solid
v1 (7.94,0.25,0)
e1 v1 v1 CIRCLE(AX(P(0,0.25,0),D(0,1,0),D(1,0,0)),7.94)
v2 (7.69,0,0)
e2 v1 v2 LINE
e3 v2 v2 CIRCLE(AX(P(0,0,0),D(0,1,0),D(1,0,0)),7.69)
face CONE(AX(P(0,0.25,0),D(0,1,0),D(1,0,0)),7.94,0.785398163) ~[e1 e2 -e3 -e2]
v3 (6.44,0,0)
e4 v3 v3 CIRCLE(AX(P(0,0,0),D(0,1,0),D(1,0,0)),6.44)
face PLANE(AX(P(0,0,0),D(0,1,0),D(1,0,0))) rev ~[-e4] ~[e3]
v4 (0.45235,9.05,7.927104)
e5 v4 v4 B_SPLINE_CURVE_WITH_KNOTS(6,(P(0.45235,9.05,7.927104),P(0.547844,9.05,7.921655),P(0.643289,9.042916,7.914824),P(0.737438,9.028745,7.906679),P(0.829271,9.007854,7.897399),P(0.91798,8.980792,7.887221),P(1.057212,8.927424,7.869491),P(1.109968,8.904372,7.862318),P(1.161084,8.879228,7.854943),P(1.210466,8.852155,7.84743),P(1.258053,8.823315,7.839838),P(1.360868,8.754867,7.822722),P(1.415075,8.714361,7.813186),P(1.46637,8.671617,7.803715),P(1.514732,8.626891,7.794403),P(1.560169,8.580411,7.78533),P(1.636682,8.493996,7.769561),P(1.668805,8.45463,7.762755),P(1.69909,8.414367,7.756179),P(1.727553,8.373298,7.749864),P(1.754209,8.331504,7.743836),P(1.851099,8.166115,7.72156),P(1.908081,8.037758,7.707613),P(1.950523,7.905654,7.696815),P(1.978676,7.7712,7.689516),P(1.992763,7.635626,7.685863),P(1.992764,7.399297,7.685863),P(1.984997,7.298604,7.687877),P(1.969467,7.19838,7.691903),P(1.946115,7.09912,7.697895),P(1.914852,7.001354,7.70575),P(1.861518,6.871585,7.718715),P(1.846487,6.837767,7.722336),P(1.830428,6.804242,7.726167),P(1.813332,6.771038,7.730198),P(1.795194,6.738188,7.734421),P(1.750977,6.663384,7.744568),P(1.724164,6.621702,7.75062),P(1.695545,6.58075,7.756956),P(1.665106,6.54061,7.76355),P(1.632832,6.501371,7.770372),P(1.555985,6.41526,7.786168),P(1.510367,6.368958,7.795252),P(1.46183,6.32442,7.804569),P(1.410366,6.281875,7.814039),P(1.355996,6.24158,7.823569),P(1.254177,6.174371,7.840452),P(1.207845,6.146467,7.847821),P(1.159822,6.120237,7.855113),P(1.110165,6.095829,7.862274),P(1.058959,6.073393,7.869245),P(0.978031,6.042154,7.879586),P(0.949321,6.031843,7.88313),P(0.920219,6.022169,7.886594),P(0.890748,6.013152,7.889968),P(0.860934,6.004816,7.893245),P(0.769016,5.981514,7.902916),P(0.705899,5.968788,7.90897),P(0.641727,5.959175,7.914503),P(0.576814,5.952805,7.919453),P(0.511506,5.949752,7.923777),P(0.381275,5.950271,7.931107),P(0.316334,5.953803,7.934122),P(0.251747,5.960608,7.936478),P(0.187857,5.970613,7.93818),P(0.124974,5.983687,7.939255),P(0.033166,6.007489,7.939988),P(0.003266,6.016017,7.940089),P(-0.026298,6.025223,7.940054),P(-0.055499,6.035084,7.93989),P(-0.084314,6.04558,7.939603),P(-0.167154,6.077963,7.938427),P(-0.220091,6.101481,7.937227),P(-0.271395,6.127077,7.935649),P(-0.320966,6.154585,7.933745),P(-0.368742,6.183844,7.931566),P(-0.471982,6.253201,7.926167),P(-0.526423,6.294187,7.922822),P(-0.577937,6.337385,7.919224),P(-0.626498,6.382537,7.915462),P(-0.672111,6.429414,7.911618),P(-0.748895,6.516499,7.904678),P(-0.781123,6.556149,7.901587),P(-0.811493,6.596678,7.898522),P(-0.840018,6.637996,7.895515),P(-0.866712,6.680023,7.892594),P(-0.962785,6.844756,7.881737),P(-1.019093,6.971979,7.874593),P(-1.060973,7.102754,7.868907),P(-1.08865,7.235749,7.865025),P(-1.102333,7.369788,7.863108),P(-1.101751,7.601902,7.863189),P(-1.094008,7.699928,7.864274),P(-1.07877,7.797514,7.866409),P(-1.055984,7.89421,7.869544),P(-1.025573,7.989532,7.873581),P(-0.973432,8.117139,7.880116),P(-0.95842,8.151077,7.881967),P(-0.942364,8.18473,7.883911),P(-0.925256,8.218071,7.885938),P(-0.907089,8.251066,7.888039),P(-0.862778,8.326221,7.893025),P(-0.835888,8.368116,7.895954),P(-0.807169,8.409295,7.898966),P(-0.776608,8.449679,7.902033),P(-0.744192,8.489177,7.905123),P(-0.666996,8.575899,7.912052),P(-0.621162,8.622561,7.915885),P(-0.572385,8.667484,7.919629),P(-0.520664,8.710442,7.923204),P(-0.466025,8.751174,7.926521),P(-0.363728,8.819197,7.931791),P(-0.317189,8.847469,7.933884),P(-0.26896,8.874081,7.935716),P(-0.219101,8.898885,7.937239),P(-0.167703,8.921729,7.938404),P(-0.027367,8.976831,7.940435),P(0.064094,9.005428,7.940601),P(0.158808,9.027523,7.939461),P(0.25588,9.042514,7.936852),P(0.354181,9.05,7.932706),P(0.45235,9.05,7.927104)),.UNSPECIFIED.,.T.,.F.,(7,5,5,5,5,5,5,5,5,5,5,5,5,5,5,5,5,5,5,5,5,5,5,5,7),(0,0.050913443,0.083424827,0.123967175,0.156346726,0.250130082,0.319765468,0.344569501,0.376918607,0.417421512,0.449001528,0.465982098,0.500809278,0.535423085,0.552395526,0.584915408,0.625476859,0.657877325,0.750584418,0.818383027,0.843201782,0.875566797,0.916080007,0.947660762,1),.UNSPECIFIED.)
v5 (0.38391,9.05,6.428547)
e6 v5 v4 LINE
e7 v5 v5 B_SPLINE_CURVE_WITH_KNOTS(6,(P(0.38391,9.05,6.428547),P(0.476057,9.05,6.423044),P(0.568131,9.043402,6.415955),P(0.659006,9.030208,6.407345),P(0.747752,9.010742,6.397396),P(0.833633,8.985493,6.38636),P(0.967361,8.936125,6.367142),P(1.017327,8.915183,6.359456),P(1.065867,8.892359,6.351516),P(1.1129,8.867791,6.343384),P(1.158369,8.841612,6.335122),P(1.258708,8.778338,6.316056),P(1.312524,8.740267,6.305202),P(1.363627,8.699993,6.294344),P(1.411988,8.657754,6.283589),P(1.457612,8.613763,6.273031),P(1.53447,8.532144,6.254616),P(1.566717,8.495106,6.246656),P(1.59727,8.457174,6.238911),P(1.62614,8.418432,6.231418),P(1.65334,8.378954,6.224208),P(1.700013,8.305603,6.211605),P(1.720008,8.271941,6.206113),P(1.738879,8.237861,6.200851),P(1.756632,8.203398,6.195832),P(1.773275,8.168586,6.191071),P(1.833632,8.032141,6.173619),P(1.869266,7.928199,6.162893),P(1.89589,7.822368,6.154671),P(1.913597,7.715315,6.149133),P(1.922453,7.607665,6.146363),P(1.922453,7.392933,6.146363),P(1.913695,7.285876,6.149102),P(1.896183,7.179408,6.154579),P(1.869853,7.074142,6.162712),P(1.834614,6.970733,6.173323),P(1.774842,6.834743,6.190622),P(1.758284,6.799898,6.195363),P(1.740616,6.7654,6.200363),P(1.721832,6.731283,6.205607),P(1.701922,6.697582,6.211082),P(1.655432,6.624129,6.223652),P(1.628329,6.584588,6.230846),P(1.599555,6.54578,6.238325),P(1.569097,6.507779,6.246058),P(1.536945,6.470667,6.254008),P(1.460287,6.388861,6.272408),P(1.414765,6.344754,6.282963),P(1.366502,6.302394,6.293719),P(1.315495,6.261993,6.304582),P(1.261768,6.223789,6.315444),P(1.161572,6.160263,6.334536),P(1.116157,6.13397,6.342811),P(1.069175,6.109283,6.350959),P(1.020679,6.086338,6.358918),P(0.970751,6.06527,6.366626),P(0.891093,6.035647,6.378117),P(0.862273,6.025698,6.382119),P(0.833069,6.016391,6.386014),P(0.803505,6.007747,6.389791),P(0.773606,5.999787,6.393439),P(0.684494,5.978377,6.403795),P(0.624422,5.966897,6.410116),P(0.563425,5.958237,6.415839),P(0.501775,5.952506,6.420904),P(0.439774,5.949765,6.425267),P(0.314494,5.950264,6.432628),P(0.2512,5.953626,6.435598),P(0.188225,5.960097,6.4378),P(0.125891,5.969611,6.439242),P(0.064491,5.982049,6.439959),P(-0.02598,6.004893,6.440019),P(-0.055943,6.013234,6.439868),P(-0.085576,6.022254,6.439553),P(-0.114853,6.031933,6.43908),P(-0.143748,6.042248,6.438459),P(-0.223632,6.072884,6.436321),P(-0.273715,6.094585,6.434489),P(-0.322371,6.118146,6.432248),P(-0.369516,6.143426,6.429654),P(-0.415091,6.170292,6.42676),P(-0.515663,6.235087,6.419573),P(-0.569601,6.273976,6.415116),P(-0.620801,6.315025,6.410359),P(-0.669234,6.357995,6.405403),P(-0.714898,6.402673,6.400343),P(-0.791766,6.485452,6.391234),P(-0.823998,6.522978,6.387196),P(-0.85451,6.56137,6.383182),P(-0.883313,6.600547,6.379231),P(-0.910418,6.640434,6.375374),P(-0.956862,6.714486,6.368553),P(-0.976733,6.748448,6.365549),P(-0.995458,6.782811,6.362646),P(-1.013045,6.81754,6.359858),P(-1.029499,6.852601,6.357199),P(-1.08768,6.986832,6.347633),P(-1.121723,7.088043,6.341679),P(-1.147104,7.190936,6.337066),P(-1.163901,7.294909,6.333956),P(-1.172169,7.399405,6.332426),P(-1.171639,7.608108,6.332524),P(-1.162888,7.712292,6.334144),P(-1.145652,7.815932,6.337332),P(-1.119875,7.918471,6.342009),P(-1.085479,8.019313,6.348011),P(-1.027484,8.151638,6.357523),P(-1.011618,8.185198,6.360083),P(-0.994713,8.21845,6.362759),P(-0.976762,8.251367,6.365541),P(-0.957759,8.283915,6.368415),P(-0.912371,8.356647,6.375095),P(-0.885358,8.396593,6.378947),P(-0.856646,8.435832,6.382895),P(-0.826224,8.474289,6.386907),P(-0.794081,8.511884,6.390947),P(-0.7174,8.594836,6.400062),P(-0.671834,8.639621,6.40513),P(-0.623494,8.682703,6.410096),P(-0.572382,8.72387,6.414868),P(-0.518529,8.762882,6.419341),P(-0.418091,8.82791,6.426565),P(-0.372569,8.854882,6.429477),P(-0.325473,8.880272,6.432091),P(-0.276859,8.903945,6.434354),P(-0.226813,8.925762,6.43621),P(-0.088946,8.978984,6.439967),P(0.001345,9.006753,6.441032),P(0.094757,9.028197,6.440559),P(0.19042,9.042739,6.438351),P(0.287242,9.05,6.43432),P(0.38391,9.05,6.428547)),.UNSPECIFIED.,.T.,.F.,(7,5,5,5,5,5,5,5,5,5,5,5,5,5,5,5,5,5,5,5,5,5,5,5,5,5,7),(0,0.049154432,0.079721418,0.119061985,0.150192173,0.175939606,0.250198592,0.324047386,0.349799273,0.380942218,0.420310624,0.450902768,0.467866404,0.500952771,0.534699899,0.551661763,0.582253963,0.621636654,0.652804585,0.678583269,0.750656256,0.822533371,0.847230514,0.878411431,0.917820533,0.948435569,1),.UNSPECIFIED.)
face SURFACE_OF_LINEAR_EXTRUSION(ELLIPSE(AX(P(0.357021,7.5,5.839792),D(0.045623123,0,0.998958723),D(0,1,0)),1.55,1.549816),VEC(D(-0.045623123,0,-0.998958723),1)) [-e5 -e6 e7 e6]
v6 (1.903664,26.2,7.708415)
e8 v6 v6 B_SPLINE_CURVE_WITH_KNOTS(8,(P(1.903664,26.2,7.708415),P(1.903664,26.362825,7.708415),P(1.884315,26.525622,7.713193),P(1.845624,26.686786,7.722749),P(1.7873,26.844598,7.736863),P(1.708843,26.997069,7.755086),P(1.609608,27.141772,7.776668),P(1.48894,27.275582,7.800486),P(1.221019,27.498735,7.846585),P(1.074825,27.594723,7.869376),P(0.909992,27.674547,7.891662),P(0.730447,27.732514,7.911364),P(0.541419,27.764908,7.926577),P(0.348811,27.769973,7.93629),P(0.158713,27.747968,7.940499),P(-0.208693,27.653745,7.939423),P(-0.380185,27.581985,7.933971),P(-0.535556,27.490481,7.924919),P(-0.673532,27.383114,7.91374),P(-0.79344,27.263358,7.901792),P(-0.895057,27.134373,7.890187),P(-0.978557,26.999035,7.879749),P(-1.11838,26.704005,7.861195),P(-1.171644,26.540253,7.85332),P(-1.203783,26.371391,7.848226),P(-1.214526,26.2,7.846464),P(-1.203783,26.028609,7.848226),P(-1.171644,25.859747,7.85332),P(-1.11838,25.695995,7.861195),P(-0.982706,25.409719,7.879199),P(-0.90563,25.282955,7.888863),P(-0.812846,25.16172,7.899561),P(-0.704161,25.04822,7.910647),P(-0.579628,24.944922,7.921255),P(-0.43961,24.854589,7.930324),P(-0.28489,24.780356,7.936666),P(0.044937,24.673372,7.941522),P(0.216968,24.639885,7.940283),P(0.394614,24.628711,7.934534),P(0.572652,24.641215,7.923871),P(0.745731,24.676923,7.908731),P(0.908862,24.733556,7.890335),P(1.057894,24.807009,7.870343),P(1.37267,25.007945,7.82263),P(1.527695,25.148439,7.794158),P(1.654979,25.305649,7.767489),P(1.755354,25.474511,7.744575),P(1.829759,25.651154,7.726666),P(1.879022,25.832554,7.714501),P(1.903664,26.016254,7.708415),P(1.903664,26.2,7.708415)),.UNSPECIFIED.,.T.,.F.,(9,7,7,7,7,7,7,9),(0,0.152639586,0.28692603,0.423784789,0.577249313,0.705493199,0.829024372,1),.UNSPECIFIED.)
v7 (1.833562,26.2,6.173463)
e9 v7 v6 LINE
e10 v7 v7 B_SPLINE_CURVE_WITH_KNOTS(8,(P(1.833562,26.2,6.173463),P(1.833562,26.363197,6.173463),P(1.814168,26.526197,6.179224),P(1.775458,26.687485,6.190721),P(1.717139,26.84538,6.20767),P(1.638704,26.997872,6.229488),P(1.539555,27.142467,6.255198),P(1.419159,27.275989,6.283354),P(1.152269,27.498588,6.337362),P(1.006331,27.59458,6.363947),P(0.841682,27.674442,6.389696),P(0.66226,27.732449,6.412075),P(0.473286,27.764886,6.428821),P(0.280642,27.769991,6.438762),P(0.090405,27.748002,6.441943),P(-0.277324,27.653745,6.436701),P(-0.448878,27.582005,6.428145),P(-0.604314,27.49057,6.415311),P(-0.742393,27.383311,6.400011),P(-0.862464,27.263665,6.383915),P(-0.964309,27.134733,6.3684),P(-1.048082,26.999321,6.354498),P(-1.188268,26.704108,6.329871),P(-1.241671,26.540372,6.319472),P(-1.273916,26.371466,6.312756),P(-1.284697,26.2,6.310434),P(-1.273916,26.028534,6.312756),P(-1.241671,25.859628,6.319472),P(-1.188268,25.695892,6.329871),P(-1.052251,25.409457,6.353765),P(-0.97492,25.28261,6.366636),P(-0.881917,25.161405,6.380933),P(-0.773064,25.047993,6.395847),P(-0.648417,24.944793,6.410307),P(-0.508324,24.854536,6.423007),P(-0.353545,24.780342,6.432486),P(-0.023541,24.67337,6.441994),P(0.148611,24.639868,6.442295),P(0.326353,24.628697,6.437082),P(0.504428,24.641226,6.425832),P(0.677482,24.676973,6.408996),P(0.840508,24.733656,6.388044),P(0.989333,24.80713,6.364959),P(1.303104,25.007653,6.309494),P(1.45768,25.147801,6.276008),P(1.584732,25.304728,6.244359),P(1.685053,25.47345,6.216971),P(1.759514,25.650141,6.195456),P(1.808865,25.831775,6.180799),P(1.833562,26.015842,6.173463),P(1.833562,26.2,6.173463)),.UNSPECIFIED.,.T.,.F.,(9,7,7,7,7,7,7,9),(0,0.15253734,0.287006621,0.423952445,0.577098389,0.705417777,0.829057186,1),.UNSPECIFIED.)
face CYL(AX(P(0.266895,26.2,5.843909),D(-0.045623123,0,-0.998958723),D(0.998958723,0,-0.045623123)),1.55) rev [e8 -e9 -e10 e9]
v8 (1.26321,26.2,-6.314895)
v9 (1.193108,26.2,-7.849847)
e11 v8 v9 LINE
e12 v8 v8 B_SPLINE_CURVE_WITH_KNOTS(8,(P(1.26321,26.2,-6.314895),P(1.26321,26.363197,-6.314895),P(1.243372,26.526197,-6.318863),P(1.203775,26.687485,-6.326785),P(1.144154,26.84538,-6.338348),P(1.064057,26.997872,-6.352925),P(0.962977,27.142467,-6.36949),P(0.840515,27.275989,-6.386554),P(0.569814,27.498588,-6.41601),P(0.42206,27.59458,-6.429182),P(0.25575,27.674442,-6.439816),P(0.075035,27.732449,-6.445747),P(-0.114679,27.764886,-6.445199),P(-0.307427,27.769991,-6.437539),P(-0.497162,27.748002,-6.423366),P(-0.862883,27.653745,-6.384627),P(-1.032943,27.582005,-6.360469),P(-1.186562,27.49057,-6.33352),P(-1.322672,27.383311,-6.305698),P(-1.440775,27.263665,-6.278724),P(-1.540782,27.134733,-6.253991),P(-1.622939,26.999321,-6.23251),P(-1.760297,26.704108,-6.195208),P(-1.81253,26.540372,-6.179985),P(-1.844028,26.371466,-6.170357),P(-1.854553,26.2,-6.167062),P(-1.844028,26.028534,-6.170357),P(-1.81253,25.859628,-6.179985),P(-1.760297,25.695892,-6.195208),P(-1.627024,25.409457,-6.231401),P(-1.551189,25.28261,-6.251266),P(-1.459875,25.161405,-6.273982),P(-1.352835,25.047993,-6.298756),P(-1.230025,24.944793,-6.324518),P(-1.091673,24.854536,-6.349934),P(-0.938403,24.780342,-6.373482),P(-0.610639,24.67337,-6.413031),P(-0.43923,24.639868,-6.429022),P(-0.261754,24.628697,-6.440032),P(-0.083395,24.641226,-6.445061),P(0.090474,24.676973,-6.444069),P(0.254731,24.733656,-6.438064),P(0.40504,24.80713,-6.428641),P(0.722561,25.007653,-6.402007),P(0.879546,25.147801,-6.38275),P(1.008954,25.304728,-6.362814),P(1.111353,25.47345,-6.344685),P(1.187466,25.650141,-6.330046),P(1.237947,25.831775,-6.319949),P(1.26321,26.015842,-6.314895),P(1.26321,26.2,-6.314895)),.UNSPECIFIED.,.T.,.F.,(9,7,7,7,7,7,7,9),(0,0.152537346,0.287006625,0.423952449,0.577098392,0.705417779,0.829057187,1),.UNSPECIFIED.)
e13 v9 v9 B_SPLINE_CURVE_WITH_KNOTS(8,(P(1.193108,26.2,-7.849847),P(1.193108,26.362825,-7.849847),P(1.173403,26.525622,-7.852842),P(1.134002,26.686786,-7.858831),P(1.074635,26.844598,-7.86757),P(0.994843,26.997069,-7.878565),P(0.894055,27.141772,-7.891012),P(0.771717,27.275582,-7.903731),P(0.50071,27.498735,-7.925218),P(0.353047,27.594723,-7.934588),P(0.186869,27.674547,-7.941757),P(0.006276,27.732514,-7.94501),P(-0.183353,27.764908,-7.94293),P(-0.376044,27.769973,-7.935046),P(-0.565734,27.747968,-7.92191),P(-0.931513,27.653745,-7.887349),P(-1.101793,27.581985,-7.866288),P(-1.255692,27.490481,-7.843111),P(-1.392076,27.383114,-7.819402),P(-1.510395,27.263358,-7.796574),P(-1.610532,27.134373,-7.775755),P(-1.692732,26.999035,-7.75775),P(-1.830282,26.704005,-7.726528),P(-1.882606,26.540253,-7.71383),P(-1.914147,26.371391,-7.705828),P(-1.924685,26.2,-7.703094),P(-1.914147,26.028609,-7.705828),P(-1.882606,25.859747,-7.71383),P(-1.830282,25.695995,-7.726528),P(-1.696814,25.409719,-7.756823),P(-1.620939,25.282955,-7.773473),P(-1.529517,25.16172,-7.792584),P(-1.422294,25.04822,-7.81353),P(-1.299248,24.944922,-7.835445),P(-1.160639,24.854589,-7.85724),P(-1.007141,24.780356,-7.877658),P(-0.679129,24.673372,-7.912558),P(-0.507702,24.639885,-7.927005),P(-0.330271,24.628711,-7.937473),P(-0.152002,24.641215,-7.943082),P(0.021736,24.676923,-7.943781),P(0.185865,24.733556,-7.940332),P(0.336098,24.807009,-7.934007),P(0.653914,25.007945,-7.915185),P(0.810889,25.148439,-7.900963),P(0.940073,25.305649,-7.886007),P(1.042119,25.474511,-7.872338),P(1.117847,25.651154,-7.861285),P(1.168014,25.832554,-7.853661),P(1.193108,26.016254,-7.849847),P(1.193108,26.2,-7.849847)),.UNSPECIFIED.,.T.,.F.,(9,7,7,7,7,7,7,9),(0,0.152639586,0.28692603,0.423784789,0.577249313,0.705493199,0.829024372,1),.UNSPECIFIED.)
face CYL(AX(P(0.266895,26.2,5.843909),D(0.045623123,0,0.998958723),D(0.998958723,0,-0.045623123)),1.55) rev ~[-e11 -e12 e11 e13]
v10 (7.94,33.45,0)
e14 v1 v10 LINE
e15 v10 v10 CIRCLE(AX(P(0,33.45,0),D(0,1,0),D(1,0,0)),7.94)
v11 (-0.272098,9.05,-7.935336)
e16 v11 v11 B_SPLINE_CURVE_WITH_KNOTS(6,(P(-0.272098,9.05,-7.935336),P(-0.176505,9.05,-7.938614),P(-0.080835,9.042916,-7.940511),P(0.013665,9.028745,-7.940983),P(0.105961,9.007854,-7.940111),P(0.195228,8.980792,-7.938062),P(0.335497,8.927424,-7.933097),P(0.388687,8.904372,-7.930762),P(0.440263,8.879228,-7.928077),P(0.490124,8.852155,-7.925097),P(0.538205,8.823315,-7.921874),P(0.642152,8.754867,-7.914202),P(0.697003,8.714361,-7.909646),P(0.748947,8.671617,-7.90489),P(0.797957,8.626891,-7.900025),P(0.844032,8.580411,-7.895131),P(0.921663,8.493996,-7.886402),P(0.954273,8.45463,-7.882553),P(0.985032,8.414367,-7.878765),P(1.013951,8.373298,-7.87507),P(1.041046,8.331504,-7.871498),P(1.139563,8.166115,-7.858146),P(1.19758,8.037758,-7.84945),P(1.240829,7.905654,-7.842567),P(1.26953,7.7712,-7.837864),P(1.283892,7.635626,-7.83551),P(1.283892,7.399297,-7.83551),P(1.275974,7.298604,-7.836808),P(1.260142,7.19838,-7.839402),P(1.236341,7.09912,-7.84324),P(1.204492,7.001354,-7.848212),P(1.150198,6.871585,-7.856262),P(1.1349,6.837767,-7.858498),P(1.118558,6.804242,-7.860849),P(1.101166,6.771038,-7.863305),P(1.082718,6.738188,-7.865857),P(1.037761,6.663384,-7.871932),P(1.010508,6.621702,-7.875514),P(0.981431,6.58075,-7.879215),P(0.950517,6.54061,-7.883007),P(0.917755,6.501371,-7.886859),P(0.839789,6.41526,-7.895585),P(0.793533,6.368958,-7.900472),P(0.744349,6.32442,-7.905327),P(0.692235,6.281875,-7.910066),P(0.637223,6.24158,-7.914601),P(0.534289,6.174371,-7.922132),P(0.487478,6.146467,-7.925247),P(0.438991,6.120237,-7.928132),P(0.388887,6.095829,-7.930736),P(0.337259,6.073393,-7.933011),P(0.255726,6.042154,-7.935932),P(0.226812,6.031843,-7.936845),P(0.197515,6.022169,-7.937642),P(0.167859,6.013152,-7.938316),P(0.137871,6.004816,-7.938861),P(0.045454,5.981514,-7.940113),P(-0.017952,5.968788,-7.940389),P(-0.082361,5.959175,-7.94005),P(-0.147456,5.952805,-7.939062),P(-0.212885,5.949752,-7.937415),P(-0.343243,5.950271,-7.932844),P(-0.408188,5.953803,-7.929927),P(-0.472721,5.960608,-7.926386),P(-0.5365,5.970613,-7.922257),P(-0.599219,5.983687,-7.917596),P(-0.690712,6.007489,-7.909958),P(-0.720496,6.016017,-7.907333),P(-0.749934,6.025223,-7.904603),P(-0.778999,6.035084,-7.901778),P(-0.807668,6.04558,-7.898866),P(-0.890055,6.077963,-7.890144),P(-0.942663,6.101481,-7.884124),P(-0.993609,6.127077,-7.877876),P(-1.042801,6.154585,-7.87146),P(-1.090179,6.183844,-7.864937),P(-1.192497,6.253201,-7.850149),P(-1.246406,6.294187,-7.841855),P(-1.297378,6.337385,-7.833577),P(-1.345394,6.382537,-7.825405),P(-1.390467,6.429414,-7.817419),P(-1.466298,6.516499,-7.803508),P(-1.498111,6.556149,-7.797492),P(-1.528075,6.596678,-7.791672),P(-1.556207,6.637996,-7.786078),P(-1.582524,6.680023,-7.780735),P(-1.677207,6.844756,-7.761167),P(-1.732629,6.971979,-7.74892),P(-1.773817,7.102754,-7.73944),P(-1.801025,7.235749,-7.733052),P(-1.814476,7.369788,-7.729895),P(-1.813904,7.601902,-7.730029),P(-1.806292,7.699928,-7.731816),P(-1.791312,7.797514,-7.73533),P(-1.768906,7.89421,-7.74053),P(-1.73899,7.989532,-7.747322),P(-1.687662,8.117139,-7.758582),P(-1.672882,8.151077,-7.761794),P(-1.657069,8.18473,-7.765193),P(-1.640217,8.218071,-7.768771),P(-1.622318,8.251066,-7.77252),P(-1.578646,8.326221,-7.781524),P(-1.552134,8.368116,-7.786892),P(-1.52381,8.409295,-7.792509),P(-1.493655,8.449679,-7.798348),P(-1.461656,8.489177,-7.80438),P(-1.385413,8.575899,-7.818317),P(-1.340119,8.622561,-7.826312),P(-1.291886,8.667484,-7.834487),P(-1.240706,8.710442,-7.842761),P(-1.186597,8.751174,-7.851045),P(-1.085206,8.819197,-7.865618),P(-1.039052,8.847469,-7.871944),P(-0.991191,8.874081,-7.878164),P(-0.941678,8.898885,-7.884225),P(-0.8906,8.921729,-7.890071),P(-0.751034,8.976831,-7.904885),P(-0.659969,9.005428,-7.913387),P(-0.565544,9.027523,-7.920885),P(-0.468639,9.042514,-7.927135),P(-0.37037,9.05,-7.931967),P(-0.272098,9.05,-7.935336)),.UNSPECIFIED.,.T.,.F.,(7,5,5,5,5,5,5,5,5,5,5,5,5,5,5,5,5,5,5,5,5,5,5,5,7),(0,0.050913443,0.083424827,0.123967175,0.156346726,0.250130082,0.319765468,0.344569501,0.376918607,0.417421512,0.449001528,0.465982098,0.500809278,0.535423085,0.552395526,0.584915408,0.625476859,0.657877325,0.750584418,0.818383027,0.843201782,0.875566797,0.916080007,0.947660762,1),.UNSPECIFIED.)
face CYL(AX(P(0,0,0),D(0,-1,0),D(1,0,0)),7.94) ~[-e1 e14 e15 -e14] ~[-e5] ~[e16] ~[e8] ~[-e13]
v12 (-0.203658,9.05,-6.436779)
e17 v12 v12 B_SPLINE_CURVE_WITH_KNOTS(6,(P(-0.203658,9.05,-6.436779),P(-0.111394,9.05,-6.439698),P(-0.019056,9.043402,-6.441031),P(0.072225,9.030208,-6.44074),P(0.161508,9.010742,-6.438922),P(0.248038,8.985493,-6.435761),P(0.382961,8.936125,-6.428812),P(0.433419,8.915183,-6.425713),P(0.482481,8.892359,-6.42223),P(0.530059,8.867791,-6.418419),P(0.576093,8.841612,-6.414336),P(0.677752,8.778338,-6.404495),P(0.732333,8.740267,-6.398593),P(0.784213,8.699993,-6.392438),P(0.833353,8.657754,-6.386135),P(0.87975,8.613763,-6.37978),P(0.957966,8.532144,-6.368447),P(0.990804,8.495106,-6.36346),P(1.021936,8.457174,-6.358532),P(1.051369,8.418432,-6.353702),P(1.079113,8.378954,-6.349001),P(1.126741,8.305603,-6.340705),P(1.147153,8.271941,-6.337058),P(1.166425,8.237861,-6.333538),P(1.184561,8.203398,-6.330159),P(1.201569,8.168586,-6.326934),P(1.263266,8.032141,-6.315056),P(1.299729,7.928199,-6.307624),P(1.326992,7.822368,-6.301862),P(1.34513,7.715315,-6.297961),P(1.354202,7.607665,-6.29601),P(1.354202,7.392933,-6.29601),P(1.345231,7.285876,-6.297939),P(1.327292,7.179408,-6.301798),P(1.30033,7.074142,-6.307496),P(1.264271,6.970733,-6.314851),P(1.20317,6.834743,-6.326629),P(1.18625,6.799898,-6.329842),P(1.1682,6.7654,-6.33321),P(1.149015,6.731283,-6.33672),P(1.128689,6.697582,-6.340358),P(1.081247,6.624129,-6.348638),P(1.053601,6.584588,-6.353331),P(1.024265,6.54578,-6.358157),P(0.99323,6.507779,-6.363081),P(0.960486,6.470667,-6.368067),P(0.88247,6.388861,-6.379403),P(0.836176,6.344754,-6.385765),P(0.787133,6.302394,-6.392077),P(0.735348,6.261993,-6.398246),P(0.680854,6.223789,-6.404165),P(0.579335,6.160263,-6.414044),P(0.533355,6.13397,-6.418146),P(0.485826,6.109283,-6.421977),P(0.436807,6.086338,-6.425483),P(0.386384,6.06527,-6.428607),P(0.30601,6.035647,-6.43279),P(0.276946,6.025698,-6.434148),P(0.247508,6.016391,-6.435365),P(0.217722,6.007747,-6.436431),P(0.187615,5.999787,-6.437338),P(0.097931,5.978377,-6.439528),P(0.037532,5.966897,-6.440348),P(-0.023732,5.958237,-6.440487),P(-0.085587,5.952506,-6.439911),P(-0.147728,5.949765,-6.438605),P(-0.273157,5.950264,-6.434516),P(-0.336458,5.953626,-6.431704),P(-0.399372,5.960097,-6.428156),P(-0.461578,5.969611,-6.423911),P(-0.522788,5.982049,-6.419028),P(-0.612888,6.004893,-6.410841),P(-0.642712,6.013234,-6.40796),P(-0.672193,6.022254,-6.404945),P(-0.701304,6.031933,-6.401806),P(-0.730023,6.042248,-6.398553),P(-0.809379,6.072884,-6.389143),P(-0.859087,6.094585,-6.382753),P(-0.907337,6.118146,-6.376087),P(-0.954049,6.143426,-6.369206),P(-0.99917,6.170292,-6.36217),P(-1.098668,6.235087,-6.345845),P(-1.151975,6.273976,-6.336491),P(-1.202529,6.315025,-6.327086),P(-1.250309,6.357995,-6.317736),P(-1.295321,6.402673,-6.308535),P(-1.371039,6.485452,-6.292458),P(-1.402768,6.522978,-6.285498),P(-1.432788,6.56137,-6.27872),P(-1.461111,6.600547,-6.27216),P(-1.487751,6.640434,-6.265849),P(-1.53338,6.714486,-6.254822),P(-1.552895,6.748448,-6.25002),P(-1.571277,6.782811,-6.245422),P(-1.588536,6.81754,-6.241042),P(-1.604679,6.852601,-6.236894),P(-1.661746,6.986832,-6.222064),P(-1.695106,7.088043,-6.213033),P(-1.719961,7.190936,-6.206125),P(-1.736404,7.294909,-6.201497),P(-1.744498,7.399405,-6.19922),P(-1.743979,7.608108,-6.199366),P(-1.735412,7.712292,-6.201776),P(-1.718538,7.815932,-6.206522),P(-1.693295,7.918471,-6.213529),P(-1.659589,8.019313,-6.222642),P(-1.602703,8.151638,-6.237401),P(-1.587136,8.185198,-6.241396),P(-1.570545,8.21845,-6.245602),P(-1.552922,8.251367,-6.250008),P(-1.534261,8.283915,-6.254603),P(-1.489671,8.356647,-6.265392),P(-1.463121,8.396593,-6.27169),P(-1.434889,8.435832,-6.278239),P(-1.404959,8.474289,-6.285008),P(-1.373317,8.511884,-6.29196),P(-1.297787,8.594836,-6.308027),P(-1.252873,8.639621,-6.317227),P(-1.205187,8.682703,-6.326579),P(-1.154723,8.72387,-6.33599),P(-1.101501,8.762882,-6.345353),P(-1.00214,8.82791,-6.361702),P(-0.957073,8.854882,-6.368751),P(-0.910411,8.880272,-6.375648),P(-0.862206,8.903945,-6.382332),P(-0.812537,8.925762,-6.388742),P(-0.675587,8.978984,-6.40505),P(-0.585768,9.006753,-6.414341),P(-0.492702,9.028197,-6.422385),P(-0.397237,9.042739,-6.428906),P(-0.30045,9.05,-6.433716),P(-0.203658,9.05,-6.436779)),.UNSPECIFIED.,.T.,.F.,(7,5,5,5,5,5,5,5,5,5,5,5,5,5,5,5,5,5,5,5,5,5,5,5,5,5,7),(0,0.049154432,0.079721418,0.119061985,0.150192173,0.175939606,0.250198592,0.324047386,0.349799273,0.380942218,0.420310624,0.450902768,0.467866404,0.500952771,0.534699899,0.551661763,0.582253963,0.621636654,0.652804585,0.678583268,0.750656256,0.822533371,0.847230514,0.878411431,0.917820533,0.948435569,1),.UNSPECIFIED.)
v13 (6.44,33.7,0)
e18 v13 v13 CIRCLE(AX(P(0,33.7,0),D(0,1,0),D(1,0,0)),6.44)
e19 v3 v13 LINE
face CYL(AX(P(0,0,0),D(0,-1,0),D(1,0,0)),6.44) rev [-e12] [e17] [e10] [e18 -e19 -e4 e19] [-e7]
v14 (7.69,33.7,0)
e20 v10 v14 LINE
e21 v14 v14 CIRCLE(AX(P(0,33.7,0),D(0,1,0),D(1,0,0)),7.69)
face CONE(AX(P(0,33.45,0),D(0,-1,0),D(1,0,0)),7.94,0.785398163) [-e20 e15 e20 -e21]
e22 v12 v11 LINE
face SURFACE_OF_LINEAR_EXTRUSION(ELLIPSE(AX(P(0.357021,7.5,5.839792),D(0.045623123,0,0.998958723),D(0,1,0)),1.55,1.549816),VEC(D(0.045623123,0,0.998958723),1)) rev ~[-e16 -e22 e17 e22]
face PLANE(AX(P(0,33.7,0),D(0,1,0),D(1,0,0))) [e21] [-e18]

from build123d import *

# Parameters (mm, degrees)
SKETCH1_R               = 7.94
SKETCH1_R_2             = 6.44
BOSS_EXTRUDE1_DEPTH     = 33.7
CHAMFER1_SIZE           = 0.25
SKETCH2_R               = 1.55
SKETCH2_RX              = 1.55
SKETCH2_RY              = 1.54981566
CUT_EXTRUDE1_DEPTH      = 3.443979861
CUT_EXTRUDE1_DEPTH_BACK = 15.143979861


with BuildPart() as part:
    # Sketch1 → Boss-Extrude1 (new body)
    with BuildSketch(Plane(origin=(0, 0, 0), x_dir=(1, 0, 0), z_dir=(0, 1, 0))):
        Circle(SKETCH1_R)
        Circle(SKETCH1_R_2, mode=Mode.SUBTRACT)
    extrude(amount=BOSS_EXTRUDE1_DEPTH)

    # Chamfer1
    chamfer1_edges = [part.edges().sort_by_distance(p)[0] for p in [
        (-7.94, 0, 0),
        (-7.94, 33.7, 0),
    ]]
    chamfer(chamfer1_edges, length=CHAMFER1_SIZE)

    # Sketch2 → Cut-Extrude1 (cut, two sides)
    with BuildSketch(Plane(origin=(0.266895271, 0, 5.843908531), x_dir=(0.998958723, 0, -0.045623123), z_dir=(0.045623123, 0, 0.998958723))) as cut_extrude1_sk:
        with Locations((0, 26.2)):
            Circle(SKETCH2_R)
        with Locations(Location((0.090219685, 7.5), (0, 0, 90))):
            Ellipse(SKETCH2_RX, SKETCH2_RY)
    extrude(amount=CUT_EXTRUDE1_DEPTH, mode=Mode.SUBTRACT)
    extrude(cut_extrude1_sk.sketch, amount=-CUT_EXTRUDE1_DEPTH_BACK, mode=Mode.SUBTRACT)


solid = part.part
